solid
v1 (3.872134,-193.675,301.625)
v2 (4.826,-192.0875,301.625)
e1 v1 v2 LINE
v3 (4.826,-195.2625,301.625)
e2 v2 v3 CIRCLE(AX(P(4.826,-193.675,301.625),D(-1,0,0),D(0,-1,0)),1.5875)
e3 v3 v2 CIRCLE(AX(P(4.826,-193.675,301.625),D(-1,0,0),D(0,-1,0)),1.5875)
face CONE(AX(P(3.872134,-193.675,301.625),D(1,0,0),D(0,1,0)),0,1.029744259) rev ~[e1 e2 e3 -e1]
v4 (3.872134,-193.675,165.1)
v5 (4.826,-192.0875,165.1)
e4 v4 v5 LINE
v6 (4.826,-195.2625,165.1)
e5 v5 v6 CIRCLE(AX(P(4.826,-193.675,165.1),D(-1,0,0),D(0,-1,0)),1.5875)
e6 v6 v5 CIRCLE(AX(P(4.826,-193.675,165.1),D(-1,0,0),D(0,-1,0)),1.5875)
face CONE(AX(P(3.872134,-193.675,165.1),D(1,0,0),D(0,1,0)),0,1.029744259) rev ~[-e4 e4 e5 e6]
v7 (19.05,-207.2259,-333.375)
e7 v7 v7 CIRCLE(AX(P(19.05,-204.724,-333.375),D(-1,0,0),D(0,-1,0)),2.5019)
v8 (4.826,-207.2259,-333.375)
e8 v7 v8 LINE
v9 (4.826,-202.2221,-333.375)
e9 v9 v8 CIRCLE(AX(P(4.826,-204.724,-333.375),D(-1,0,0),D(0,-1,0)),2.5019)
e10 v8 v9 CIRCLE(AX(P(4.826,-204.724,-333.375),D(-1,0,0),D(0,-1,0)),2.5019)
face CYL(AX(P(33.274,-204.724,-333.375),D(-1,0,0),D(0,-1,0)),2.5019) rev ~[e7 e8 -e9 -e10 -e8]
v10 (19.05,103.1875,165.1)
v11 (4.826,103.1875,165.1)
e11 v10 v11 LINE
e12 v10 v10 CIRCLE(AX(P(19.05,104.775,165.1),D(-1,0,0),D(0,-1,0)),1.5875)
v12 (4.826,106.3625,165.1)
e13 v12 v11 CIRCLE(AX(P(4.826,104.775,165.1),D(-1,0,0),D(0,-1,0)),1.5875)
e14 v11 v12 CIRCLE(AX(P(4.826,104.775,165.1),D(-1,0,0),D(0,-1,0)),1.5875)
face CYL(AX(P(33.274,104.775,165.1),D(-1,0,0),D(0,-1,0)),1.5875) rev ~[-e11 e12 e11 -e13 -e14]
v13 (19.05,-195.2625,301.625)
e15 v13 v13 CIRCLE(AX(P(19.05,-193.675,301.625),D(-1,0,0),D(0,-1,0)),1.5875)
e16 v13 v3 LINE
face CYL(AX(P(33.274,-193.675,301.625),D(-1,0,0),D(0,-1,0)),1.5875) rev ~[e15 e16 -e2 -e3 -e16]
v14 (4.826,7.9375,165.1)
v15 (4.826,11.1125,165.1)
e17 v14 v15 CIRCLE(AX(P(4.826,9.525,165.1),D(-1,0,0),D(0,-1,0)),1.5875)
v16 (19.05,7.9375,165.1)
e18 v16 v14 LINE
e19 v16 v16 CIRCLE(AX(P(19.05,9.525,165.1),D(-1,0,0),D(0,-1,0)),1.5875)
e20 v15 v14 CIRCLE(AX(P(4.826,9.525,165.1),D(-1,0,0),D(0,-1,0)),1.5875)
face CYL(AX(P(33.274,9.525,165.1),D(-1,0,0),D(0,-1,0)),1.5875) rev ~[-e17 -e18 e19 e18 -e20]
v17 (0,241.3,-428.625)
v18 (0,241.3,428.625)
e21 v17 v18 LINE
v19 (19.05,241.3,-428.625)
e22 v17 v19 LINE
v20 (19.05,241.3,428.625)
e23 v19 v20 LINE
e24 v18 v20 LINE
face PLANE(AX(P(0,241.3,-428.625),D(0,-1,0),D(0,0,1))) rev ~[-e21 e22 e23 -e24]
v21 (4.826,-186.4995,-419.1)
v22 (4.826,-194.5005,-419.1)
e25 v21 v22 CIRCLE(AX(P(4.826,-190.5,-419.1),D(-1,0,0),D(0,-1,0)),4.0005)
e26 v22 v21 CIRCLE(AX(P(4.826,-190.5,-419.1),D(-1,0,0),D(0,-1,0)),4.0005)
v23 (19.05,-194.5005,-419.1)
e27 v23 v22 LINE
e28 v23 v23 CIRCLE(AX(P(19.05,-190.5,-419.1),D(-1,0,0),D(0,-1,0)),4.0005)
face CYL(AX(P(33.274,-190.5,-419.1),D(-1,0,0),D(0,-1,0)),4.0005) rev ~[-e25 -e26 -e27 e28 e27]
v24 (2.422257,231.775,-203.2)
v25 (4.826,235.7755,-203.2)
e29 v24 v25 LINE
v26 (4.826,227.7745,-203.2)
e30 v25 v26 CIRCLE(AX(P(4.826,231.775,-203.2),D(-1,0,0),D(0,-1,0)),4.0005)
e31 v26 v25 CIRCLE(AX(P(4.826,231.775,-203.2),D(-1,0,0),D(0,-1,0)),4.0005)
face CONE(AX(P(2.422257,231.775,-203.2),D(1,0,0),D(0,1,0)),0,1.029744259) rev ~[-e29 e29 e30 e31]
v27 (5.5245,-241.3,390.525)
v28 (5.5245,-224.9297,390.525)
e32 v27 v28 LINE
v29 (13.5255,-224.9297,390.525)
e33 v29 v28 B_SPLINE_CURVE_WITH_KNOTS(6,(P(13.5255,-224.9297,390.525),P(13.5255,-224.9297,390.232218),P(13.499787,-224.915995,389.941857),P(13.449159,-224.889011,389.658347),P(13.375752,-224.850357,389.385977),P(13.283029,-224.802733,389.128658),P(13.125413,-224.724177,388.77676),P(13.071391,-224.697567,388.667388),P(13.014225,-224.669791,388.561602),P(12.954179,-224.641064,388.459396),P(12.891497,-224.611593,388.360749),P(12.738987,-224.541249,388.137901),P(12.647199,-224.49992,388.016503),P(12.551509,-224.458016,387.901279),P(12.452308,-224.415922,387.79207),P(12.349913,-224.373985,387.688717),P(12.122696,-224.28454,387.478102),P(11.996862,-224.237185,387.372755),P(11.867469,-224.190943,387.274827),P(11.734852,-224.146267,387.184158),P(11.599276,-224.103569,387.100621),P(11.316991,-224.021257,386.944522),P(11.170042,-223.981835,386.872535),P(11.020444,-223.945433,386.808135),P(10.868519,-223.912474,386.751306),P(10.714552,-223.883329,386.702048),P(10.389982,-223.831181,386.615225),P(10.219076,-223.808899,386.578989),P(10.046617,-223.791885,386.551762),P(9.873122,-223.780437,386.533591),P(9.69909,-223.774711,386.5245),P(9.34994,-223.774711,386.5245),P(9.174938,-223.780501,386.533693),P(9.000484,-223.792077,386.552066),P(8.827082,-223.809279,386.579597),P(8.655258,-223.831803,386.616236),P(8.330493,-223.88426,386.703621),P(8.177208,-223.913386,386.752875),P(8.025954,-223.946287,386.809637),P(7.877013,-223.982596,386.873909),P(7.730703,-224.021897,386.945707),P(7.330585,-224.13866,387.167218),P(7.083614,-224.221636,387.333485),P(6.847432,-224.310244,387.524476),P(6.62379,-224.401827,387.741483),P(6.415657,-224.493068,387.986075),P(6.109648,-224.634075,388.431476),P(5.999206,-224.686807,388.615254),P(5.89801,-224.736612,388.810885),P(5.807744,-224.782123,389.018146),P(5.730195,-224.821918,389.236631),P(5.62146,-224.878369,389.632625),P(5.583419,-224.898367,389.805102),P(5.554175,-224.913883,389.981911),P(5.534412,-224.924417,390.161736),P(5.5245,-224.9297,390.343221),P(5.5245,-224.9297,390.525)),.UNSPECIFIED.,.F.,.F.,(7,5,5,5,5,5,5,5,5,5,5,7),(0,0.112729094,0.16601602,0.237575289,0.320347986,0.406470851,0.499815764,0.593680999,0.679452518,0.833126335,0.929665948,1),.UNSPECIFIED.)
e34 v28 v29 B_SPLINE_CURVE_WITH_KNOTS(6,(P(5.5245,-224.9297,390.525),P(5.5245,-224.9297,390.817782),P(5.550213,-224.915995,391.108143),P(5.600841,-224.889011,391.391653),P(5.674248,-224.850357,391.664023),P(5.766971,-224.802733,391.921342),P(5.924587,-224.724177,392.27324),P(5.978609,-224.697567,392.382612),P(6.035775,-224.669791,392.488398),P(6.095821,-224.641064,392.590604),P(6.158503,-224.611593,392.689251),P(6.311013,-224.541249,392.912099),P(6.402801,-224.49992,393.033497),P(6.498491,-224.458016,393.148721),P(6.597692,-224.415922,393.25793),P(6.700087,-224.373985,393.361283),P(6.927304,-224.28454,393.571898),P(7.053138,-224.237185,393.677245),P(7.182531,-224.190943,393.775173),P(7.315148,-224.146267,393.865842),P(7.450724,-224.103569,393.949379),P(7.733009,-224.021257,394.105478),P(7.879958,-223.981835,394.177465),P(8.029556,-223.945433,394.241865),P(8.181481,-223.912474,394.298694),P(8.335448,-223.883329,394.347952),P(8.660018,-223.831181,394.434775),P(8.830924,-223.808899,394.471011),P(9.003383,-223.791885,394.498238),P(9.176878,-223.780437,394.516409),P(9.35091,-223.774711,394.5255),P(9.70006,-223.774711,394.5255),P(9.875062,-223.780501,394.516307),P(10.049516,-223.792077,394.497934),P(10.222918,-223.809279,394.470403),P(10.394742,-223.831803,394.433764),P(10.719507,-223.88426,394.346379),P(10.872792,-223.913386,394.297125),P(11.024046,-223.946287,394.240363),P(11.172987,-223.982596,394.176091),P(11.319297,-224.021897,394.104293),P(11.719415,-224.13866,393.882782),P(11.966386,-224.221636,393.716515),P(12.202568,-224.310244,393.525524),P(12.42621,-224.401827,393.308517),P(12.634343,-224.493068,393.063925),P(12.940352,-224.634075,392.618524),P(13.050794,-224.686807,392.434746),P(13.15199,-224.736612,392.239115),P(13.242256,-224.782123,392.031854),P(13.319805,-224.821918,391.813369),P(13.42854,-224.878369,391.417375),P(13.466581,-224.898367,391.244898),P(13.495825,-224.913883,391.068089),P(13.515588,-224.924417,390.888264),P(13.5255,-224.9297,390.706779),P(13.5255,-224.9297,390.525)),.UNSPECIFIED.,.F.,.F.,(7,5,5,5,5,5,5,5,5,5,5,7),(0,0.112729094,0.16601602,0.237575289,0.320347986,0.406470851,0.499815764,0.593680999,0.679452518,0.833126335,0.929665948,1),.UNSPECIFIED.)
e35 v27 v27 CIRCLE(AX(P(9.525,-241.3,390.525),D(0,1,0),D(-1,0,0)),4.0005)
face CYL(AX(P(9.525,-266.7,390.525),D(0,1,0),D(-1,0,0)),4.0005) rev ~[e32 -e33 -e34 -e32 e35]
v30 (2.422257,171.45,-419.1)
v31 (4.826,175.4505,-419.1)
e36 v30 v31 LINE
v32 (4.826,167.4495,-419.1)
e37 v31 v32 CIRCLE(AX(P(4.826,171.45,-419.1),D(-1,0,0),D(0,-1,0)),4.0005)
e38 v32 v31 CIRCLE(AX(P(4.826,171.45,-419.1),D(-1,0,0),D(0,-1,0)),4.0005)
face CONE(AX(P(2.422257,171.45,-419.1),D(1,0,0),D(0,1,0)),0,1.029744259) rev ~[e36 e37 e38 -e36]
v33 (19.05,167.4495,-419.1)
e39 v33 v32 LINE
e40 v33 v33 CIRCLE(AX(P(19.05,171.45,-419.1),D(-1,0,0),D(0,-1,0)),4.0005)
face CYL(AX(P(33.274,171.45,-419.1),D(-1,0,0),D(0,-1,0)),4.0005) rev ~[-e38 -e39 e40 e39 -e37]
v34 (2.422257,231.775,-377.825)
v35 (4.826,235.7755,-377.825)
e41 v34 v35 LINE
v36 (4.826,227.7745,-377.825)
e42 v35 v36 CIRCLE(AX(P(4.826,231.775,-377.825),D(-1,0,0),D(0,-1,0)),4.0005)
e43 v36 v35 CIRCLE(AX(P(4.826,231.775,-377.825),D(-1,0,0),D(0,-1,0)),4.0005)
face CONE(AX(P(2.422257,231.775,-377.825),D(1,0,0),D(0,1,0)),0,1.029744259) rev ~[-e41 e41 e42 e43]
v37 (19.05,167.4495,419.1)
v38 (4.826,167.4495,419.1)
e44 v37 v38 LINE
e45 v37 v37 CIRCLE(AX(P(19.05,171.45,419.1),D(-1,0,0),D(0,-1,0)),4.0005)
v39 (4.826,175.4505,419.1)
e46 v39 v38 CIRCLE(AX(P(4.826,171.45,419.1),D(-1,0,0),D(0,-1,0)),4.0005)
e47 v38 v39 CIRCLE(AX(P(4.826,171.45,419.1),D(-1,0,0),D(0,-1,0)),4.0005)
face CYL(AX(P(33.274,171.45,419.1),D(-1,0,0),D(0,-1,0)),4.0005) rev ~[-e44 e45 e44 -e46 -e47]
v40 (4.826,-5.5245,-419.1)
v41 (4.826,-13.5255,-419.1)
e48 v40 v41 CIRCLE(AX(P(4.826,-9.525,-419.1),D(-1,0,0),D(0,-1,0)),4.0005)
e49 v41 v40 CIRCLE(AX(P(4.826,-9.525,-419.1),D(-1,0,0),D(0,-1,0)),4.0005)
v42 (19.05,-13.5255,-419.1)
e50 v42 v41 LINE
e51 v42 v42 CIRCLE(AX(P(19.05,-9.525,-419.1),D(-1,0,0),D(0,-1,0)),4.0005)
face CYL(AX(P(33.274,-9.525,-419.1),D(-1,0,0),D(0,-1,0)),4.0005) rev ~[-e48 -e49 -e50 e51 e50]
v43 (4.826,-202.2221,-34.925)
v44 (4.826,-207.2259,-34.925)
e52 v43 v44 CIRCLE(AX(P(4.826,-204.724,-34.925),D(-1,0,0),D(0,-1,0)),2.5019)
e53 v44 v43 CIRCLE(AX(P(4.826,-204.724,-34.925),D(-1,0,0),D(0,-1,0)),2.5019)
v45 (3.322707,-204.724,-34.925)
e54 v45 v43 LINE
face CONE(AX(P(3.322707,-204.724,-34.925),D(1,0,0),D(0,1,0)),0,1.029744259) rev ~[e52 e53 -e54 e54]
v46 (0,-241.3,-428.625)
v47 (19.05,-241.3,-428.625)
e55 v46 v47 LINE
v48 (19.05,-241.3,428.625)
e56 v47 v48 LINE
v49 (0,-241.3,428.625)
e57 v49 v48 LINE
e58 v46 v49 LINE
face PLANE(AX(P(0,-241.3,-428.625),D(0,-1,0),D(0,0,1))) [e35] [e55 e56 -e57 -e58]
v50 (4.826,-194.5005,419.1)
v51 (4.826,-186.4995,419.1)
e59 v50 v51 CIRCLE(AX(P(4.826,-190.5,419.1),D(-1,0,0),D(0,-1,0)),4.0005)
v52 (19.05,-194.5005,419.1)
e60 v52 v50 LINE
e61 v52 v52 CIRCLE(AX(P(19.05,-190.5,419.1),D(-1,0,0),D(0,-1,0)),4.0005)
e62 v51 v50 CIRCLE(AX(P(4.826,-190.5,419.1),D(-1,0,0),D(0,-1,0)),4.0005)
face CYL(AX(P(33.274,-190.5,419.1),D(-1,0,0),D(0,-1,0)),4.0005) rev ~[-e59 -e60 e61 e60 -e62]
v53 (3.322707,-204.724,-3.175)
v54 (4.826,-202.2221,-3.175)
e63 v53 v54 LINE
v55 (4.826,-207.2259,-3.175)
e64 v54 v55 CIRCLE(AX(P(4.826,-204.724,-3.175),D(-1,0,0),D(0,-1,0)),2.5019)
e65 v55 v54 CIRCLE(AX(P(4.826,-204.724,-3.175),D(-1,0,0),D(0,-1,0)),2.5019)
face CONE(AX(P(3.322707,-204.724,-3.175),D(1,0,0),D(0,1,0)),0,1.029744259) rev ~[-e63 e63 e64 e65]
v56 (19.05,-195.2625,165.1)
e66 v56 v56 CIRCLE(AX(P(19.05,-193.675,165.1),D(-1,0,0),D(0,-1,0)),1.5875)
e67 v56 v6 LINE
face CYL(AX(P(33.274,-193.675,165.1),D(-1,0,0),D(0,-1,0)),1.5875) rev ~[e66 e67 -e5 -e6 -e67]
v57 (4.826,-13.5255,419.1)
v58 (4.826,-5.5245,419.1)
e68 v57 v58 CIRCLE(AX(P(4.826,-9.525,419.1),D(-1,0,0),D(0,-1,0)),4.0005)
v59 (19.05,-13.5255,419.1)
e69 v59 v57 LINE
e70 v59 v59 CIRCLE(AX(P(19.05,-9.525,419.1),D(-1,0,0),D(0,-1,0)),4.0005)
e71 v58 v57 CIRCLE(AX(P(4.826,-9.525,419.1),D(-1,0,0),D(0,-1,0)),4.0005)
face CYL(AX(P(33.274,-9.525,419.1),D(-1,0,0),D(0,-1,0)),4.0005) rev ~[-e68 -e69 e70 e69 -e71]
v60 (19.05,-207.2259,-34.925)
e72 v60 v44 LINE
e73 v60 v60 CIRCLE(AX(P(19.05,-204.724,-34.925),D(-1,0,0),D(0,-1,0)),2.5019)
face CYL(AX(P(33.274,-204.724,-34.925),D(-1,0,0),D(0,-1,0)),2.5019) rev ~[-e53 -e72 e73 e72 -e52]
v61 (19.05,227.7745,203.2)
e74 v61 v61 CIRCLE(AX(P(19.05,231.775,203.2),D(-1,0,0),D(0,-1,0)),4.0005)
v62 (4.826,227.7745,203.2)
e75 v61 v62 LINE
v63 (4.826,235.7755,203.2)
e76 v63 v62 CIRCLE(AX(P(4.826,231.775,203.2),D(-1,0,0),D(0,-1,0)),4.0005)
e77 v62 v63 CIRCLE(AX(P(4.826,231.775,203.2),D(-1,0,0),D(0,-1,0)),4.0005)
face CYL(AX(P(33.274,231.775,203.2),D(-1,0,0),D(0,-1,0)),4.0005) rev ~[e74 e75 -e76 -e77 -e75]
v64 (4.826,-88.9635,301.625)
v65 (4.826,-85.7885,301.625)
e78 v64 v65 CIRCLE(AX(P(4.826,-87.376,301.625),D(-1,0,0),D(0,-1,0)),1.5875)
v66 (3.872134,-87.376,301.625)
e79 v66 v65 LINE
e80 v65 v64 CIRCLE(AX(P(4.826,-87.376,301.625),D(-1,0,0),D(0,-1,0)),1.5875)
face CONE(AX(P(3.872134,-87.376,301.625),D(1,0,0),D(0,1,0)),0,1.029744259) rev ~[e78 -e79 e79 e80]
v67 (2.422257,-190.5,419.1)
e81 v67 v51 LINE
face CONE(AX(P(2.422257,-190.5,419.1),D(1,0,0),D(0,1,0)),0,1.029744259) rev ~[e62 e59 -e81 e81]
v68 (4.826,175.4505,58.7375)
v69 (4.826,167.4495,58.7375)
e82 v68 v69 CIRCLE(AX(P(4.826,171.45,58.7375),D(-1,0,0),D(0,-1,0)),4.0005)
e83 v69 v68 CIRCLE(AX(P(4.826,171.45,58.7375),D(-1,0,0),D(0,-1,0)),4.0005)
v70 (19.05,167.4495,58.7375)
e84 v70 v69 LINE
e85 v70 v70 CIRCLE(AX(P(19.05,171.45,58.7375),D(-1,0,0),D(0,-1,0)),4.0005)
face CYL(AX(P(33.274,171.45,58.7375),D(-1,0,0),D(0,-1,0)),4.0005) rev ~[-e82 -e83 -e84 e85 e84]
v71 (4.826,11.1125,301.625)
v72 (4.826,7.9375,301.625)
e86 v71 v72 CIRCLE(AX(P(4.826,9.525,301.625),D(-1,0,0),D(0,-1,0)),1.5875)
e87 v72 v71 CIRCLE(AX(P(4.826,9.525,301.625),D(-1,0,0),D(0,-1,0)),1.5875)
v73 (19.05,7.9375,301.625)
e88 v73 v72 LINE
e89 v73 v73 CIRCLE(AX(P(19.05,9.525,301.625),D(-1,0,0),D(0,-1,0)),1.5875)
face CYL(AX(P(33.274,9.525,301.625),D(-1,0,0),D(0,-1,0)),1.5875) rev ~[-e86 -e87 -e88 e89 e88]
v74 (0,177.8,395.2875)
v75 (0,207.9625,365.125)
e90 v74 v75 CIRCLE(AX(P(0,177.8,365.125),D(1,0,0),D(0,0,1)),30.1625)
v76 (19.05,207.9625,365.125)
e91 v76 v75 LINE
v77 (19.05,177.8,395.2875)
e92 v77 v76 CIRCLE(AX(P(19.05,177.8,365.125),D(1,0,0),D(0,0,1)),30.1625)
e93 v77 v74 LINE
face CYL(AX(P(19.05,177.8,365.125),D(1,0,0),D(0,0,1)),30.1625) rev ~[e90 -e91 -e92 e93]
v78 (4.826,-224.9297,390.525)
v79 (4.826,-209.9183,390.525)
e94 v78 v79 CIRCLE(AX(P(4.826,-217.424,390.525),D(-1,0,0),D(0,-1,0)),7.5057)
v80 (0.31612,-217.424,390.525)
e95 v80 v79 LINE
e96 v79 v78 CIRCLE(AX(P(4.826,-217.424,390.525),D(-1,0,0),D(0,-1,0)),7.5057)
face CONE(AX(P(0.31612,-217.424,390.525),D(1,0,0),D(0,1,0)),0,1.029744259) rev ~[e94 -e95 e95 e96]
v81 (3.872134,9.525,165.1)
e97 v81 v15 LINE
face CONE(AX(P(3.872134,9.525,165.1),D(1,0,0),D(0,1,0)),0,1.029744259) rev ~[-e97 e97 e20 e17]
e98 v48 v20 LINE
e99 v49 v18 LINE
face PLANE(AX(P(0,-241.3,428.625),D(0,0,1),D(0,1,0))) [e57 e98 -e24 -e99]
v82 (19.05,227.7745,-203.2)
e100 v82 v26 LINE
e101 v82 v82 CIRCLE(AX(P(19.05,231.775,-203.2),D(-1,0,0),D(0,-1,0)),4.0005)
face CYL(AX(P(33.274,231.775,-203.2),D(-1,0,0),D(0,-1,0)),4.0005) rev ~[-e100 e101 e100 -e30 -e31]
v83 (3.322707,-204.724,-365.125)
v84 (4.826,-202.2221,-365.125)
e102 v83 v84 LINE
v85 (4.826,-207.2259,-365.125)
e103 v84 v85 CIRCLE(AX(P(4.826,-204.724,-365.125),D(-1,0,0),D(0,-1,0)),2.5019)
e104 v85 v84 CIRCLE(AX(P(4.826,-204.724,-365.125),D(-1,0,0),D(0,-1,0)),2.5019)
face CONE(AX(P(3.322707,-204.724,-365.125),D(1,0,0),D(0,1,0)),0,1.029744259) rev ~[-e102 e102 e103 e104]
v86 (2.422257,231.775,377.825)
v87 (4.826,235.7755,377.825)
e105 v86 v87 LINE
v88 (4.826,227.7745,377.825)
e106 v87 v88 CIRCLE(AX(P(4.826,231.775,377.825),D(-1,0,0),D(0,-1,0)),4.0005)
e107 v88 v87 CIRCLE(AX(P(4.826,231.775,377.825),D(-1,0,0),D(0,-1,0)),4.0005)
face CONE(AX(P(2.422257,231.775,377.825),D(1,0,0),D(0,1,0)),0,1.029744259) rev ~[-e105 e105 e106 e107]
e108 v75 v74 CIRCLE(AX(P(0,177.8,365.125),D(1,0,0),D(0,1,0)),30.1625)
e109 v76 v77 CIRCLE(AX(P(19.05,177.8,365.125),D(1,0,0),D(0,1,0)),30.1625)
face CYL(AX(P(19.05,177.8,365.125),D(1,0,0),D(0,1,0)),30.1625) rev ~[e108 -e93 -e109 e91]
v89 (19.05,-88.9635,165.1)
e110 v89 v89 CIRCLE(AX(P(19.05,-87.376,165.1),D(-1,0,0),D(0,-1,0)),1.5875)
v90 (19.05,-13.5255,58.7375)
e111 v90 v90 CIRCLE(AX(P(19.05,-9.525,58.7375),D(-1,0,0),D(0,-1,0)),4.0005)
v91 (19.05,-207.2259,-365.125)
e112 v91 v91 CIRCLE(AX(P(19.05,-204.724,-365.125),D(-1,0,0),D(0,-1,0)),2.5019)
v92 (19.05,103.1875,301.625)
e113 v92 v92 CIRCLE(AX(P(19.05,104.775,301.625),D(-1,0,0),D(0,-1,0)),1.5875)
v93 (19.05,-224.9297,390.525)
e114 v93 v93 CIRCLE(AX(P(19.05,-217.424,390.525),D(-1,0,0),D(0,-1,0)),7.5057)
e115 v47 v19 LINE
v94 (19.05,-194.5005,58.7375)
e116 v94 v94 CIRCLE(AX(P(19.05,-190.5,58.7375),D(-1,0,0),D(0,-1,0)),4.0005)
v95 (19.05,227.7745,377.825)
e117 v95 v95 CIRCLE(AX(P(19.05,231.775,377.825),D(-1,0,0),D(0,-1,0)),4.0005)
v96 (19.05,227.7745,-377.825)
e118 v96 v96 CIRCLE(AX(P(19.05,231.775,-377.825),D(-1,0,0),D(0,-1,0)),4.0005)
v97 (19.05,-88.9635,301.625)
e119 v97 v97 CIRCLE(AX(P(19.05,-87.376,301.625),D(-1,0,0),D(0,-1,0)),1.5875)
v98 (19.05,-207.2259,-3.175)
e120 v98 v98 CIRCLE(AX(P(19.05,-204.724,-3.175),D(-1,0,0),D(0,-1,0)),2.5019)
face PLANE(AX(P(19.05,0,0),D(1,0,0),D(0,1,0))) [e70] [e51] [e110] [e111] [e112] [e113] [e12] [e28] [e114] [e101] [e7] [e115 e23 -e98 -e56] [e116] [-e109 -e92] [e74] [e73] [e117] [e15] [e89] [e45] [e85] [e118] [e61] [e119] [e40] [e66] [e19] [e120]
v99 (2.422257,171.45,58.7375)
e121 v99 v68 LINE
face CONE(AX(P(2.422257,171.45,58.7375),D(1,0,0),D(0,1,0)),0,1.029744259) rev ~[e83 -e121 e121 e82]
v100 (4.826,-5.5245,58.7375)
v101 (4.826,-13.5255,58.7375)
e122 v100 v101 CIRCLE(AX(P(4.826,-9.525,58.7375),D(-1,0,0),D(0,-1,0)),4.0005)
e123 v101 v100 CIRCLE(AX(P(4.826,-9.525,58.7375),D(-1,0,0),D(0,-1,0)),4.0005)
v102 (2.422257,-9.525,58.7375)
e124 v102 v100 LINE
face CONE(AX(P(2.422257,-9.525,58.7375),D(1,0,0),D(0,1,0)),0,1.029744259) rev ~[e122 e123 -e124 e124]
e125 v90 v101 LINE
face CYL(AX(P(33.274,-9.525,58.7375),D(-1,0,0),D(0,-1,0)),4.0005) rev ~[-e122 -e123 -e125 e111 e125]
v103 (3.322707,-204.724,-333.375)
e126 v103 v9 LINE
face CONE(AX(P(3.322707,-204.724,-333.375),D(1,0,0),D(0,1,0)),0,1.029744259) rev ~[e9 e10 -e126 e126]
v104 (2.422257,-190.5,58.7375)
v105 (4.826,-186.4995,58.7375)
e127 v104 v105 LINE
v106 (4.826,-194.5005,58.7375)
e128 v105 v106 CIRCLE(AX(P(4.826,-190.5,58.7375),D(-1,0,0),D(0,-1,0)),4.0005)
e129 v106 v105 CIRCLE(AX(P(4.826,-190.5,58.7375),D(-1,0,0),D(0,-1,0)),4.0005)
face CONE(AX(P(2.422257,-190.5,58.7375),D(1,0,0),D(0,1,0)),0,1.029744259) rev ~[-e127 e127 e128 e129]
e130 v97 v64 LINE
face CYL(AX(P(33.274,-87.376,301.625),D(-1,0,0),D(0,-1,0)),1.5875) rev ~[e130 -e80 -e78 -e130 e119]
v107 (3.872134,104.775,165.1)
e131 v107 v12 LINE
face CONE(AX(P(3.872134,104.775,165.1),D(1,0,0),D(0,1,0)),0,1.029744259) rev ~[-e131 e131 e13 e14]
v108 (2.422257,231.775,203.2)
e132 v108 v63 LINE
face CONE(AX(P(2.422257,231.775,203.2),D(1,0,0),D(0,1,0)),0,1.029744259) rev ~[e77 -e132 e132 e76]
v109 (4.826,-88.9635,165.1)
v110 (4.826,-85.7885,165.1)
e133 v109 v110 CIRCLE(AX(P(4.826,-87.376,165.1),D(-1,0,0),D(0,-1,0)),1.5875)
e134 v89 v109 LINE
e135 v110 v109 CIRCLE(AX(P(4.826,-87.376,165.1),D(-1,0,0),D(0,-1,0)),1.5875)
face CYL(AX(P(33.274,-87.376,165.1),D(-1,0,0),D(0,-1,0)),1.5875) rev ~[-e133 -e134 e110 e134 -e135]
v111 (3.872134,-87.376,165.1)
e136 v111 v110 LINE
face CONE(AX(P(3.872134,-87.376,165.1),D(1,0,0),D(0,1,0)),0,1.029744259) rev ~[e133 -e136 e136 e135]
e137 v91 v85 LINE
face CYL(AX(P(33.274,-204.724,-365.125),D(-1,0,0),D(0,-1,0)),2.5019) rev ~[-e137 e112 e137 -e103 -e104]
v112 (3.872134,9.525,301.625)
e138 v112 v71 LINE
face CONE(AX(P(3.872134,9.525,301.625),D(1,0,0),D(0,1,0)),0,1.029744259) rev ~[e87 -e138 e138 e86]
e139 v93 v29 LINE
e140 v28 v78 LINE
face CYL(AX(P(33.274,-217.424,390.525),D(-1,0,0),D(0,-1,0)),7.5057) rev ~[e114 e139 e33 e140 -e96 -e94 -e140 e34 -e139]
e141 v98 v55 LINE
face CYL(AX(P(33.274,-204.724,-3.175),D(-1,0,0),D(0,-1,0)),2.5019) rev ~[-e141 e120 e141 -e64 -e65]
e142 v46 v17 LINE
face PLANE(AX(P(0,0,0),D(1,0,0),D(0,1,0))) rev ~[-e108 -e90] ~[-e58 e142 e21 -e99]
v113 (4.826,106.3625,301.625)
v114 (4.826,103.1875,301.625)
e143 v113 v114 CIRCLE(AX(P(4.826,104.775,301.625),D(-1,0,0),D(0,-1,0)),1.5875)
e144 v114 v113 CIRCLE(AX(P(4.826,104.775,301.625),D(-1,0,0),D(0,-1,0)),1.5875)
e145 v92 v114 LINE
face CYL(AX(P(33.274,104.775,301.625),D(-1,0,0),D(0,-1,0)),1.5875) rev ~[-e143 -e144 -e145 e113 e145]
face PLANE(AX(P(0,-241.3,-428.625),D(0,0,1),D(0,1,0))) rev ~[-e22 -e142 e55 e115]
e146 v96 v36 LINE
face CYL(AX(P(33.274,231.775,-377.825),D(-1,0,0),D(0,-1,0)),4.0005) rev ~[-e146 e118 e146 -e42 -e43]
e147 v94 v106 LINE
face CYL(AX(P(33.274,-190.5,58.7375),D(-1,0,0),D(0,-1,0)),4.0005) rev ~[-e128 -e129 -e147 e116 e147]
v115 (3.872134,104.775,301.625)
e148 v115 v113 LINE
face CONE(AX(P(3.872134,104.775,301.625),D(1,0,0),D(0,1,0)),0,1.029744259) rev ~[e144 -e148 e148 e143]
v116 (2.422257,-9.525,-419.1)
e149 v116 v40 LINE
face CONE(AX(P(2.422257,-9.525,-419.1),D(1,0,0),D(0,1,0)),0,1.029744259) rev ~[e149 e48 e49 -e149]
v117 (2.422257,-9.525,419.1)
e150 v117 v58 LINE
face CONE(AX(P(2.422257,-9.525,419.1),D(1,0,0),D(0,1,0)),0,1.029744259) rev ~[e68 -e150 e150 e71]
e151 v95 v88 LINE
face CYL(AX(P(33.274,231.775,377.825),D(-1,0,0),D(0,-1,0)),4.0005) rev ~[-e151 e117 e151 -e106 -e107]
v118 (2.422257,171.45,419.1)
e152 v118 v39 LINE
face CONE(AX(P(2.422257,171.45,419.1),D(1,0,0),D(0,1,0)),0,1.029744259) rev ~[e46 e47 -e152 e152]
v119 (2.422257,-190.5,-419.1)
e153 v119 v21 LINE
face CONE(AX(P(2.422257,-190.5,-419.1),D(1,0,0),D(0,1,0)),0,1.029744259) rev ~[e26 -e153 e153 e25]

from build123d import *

# Parameters (mm, degrees)
F0_W      = 482.6
F0_H      = 857.25
F1_DEPTH  = 19.05
F3_D      = 8.001
F3_DEPTH  = 14.224
F3_TIP    = 2.4037429064
F5_D      = 15.0114
F5_DEPTH  = 14.224
F5_TIP    = 4.5098795482
F7_D      = 8.001
F7_DEPTH  = 25.4
F7_TIP    = 2.4037429064
F9_D      = 3.175
F9_DEPTH  = 14.224
F9_TIP    = 0.9538662327
F10_D     = 5.0038
F10_DEPTH = 14.224
F10_TIP   = 1.5032931827
F12_DEPTH = 25.4
F13_D     = 8.001
F13_DEPTH = 14.224
F13_TIP   = 2.4037429064


with BuildPart() as f1:
    # F0 (on Right) → F1 (new body)
    with BuildSketch(Plane.YZ):
        Rectangle(F0_W, F0_H)
    extrude(amount=F1_DEPTH)

    # F3
    with Locations(Plane.YZ.offset(19.05)):
        with Locations((-190.5, 419.1), (-9.525, 419.1), (171.45, 419.1), (231.775, 377.825), (231.775, 203.2), (231.775, -203.2), (231.775, -377.825), (171.45, -419.1), (-9.525, -419.1), (-190.5, -419.1)):
            Hole(F3_D / 2, depth=F3_DEPTH)
            with Locations((0, 0, -(F3_DEPTH + F3_TIP / 2))):  # 118° drill point
                Cone(0, F3_D / 2, F3_TIP, mode=Mode.SUBTRACT)

    # F5
    with Locations(Plane.YZ.offset(19.05)):
        with Locations((-217.424, 390.525)):
            Hole(F5_D / 2, depth=F5_DEPTH)
            with Locations((0, 0, -(F5_DEPTH + F5_TIP / 2))):  # 118° drill point
                Cone(0, F5_D / 2, F5_TIP, mode=Mode.SUBTRACT)

    # F7
    with Locations(Plane.XZ.offset(241.3)):
        with Locations((9.525, 390.525)):
            Hole(F7_D / 2, depth=F7_DEPTH)
            with Locations((0, 0, -(F7_DEPTH + F7_TIP / 2))):  # 118° drill point
                Cone(0, F7_D / 2, F7_TIP, mode=Mode.SUBTRACT)

    # F9
    with Locations(Plane.YZ.offset(19.05)):
        with Locations((-193.675, 301.625), (-87.376, 301.625), (104.775, 301.625), (104.775, 165.1), (9.525, 165.1), (-87.376, 165.1), (9.525, 301.625), (-193.675, 165.1)):
            Hole(F9_D / 2, depth=F9_DEPTH)
            with Locations((0, 0, -(F9_DEPTH + F9_TIP / 2))):  # 118° drill point
                Cone(0, F9_D / 2, F9_TIP, mode=Mode.SUBTRACT)

    # F10
    with Locations(Plane.YZ.offset(19.05)):
        with Locations((-204.724, -3.175), (-204.724, -34.925), (-204.724, -333.375), (-204.724, -365.125)):
            Hole(F10_D / 2, depth=F10_DEPTH)
            with Locations((0, 0, -(F10_DEPTH + F10_TIP / 2))):  # 118° drill point
                Cone(0, F10_D / 2, F10_TIP, mode=Mode.SUBTRACT)

    # F11 (on face) → F12 (cut)
    with BuildSketch(Plane.YZ.offset(19.05)):
        with BuildLine():
            ThreePointArc((207.9625, 365.125), (199.1281082875, 386.4531082875), (177.8, 395.2875))
            ThreePointArc((177.8, 395.2875), (156.4718917125, 343.7968917125), (207.9625, 365.125))
        make_face()
    extrude(amount=-F12_DEPTH, mode=Mode.SUBTRACT)

    # F13
    with Locations(Plane.YZ.offset(19.05)):
        with Locations((-190.5, 58.7375), (-9.525, 58.7375), (171.45, 58.7375)):
            Hole(F13_D / 2, depth=F13_DEPTH)
            with Locations((0, 0, -(F13_DEPTH + F13_TIP / 2))):  # 118° drill point
                Cone(0, F13_D / 2, F13_TIP, mode=Mode.SUBTRACT)


solid = f1.part
